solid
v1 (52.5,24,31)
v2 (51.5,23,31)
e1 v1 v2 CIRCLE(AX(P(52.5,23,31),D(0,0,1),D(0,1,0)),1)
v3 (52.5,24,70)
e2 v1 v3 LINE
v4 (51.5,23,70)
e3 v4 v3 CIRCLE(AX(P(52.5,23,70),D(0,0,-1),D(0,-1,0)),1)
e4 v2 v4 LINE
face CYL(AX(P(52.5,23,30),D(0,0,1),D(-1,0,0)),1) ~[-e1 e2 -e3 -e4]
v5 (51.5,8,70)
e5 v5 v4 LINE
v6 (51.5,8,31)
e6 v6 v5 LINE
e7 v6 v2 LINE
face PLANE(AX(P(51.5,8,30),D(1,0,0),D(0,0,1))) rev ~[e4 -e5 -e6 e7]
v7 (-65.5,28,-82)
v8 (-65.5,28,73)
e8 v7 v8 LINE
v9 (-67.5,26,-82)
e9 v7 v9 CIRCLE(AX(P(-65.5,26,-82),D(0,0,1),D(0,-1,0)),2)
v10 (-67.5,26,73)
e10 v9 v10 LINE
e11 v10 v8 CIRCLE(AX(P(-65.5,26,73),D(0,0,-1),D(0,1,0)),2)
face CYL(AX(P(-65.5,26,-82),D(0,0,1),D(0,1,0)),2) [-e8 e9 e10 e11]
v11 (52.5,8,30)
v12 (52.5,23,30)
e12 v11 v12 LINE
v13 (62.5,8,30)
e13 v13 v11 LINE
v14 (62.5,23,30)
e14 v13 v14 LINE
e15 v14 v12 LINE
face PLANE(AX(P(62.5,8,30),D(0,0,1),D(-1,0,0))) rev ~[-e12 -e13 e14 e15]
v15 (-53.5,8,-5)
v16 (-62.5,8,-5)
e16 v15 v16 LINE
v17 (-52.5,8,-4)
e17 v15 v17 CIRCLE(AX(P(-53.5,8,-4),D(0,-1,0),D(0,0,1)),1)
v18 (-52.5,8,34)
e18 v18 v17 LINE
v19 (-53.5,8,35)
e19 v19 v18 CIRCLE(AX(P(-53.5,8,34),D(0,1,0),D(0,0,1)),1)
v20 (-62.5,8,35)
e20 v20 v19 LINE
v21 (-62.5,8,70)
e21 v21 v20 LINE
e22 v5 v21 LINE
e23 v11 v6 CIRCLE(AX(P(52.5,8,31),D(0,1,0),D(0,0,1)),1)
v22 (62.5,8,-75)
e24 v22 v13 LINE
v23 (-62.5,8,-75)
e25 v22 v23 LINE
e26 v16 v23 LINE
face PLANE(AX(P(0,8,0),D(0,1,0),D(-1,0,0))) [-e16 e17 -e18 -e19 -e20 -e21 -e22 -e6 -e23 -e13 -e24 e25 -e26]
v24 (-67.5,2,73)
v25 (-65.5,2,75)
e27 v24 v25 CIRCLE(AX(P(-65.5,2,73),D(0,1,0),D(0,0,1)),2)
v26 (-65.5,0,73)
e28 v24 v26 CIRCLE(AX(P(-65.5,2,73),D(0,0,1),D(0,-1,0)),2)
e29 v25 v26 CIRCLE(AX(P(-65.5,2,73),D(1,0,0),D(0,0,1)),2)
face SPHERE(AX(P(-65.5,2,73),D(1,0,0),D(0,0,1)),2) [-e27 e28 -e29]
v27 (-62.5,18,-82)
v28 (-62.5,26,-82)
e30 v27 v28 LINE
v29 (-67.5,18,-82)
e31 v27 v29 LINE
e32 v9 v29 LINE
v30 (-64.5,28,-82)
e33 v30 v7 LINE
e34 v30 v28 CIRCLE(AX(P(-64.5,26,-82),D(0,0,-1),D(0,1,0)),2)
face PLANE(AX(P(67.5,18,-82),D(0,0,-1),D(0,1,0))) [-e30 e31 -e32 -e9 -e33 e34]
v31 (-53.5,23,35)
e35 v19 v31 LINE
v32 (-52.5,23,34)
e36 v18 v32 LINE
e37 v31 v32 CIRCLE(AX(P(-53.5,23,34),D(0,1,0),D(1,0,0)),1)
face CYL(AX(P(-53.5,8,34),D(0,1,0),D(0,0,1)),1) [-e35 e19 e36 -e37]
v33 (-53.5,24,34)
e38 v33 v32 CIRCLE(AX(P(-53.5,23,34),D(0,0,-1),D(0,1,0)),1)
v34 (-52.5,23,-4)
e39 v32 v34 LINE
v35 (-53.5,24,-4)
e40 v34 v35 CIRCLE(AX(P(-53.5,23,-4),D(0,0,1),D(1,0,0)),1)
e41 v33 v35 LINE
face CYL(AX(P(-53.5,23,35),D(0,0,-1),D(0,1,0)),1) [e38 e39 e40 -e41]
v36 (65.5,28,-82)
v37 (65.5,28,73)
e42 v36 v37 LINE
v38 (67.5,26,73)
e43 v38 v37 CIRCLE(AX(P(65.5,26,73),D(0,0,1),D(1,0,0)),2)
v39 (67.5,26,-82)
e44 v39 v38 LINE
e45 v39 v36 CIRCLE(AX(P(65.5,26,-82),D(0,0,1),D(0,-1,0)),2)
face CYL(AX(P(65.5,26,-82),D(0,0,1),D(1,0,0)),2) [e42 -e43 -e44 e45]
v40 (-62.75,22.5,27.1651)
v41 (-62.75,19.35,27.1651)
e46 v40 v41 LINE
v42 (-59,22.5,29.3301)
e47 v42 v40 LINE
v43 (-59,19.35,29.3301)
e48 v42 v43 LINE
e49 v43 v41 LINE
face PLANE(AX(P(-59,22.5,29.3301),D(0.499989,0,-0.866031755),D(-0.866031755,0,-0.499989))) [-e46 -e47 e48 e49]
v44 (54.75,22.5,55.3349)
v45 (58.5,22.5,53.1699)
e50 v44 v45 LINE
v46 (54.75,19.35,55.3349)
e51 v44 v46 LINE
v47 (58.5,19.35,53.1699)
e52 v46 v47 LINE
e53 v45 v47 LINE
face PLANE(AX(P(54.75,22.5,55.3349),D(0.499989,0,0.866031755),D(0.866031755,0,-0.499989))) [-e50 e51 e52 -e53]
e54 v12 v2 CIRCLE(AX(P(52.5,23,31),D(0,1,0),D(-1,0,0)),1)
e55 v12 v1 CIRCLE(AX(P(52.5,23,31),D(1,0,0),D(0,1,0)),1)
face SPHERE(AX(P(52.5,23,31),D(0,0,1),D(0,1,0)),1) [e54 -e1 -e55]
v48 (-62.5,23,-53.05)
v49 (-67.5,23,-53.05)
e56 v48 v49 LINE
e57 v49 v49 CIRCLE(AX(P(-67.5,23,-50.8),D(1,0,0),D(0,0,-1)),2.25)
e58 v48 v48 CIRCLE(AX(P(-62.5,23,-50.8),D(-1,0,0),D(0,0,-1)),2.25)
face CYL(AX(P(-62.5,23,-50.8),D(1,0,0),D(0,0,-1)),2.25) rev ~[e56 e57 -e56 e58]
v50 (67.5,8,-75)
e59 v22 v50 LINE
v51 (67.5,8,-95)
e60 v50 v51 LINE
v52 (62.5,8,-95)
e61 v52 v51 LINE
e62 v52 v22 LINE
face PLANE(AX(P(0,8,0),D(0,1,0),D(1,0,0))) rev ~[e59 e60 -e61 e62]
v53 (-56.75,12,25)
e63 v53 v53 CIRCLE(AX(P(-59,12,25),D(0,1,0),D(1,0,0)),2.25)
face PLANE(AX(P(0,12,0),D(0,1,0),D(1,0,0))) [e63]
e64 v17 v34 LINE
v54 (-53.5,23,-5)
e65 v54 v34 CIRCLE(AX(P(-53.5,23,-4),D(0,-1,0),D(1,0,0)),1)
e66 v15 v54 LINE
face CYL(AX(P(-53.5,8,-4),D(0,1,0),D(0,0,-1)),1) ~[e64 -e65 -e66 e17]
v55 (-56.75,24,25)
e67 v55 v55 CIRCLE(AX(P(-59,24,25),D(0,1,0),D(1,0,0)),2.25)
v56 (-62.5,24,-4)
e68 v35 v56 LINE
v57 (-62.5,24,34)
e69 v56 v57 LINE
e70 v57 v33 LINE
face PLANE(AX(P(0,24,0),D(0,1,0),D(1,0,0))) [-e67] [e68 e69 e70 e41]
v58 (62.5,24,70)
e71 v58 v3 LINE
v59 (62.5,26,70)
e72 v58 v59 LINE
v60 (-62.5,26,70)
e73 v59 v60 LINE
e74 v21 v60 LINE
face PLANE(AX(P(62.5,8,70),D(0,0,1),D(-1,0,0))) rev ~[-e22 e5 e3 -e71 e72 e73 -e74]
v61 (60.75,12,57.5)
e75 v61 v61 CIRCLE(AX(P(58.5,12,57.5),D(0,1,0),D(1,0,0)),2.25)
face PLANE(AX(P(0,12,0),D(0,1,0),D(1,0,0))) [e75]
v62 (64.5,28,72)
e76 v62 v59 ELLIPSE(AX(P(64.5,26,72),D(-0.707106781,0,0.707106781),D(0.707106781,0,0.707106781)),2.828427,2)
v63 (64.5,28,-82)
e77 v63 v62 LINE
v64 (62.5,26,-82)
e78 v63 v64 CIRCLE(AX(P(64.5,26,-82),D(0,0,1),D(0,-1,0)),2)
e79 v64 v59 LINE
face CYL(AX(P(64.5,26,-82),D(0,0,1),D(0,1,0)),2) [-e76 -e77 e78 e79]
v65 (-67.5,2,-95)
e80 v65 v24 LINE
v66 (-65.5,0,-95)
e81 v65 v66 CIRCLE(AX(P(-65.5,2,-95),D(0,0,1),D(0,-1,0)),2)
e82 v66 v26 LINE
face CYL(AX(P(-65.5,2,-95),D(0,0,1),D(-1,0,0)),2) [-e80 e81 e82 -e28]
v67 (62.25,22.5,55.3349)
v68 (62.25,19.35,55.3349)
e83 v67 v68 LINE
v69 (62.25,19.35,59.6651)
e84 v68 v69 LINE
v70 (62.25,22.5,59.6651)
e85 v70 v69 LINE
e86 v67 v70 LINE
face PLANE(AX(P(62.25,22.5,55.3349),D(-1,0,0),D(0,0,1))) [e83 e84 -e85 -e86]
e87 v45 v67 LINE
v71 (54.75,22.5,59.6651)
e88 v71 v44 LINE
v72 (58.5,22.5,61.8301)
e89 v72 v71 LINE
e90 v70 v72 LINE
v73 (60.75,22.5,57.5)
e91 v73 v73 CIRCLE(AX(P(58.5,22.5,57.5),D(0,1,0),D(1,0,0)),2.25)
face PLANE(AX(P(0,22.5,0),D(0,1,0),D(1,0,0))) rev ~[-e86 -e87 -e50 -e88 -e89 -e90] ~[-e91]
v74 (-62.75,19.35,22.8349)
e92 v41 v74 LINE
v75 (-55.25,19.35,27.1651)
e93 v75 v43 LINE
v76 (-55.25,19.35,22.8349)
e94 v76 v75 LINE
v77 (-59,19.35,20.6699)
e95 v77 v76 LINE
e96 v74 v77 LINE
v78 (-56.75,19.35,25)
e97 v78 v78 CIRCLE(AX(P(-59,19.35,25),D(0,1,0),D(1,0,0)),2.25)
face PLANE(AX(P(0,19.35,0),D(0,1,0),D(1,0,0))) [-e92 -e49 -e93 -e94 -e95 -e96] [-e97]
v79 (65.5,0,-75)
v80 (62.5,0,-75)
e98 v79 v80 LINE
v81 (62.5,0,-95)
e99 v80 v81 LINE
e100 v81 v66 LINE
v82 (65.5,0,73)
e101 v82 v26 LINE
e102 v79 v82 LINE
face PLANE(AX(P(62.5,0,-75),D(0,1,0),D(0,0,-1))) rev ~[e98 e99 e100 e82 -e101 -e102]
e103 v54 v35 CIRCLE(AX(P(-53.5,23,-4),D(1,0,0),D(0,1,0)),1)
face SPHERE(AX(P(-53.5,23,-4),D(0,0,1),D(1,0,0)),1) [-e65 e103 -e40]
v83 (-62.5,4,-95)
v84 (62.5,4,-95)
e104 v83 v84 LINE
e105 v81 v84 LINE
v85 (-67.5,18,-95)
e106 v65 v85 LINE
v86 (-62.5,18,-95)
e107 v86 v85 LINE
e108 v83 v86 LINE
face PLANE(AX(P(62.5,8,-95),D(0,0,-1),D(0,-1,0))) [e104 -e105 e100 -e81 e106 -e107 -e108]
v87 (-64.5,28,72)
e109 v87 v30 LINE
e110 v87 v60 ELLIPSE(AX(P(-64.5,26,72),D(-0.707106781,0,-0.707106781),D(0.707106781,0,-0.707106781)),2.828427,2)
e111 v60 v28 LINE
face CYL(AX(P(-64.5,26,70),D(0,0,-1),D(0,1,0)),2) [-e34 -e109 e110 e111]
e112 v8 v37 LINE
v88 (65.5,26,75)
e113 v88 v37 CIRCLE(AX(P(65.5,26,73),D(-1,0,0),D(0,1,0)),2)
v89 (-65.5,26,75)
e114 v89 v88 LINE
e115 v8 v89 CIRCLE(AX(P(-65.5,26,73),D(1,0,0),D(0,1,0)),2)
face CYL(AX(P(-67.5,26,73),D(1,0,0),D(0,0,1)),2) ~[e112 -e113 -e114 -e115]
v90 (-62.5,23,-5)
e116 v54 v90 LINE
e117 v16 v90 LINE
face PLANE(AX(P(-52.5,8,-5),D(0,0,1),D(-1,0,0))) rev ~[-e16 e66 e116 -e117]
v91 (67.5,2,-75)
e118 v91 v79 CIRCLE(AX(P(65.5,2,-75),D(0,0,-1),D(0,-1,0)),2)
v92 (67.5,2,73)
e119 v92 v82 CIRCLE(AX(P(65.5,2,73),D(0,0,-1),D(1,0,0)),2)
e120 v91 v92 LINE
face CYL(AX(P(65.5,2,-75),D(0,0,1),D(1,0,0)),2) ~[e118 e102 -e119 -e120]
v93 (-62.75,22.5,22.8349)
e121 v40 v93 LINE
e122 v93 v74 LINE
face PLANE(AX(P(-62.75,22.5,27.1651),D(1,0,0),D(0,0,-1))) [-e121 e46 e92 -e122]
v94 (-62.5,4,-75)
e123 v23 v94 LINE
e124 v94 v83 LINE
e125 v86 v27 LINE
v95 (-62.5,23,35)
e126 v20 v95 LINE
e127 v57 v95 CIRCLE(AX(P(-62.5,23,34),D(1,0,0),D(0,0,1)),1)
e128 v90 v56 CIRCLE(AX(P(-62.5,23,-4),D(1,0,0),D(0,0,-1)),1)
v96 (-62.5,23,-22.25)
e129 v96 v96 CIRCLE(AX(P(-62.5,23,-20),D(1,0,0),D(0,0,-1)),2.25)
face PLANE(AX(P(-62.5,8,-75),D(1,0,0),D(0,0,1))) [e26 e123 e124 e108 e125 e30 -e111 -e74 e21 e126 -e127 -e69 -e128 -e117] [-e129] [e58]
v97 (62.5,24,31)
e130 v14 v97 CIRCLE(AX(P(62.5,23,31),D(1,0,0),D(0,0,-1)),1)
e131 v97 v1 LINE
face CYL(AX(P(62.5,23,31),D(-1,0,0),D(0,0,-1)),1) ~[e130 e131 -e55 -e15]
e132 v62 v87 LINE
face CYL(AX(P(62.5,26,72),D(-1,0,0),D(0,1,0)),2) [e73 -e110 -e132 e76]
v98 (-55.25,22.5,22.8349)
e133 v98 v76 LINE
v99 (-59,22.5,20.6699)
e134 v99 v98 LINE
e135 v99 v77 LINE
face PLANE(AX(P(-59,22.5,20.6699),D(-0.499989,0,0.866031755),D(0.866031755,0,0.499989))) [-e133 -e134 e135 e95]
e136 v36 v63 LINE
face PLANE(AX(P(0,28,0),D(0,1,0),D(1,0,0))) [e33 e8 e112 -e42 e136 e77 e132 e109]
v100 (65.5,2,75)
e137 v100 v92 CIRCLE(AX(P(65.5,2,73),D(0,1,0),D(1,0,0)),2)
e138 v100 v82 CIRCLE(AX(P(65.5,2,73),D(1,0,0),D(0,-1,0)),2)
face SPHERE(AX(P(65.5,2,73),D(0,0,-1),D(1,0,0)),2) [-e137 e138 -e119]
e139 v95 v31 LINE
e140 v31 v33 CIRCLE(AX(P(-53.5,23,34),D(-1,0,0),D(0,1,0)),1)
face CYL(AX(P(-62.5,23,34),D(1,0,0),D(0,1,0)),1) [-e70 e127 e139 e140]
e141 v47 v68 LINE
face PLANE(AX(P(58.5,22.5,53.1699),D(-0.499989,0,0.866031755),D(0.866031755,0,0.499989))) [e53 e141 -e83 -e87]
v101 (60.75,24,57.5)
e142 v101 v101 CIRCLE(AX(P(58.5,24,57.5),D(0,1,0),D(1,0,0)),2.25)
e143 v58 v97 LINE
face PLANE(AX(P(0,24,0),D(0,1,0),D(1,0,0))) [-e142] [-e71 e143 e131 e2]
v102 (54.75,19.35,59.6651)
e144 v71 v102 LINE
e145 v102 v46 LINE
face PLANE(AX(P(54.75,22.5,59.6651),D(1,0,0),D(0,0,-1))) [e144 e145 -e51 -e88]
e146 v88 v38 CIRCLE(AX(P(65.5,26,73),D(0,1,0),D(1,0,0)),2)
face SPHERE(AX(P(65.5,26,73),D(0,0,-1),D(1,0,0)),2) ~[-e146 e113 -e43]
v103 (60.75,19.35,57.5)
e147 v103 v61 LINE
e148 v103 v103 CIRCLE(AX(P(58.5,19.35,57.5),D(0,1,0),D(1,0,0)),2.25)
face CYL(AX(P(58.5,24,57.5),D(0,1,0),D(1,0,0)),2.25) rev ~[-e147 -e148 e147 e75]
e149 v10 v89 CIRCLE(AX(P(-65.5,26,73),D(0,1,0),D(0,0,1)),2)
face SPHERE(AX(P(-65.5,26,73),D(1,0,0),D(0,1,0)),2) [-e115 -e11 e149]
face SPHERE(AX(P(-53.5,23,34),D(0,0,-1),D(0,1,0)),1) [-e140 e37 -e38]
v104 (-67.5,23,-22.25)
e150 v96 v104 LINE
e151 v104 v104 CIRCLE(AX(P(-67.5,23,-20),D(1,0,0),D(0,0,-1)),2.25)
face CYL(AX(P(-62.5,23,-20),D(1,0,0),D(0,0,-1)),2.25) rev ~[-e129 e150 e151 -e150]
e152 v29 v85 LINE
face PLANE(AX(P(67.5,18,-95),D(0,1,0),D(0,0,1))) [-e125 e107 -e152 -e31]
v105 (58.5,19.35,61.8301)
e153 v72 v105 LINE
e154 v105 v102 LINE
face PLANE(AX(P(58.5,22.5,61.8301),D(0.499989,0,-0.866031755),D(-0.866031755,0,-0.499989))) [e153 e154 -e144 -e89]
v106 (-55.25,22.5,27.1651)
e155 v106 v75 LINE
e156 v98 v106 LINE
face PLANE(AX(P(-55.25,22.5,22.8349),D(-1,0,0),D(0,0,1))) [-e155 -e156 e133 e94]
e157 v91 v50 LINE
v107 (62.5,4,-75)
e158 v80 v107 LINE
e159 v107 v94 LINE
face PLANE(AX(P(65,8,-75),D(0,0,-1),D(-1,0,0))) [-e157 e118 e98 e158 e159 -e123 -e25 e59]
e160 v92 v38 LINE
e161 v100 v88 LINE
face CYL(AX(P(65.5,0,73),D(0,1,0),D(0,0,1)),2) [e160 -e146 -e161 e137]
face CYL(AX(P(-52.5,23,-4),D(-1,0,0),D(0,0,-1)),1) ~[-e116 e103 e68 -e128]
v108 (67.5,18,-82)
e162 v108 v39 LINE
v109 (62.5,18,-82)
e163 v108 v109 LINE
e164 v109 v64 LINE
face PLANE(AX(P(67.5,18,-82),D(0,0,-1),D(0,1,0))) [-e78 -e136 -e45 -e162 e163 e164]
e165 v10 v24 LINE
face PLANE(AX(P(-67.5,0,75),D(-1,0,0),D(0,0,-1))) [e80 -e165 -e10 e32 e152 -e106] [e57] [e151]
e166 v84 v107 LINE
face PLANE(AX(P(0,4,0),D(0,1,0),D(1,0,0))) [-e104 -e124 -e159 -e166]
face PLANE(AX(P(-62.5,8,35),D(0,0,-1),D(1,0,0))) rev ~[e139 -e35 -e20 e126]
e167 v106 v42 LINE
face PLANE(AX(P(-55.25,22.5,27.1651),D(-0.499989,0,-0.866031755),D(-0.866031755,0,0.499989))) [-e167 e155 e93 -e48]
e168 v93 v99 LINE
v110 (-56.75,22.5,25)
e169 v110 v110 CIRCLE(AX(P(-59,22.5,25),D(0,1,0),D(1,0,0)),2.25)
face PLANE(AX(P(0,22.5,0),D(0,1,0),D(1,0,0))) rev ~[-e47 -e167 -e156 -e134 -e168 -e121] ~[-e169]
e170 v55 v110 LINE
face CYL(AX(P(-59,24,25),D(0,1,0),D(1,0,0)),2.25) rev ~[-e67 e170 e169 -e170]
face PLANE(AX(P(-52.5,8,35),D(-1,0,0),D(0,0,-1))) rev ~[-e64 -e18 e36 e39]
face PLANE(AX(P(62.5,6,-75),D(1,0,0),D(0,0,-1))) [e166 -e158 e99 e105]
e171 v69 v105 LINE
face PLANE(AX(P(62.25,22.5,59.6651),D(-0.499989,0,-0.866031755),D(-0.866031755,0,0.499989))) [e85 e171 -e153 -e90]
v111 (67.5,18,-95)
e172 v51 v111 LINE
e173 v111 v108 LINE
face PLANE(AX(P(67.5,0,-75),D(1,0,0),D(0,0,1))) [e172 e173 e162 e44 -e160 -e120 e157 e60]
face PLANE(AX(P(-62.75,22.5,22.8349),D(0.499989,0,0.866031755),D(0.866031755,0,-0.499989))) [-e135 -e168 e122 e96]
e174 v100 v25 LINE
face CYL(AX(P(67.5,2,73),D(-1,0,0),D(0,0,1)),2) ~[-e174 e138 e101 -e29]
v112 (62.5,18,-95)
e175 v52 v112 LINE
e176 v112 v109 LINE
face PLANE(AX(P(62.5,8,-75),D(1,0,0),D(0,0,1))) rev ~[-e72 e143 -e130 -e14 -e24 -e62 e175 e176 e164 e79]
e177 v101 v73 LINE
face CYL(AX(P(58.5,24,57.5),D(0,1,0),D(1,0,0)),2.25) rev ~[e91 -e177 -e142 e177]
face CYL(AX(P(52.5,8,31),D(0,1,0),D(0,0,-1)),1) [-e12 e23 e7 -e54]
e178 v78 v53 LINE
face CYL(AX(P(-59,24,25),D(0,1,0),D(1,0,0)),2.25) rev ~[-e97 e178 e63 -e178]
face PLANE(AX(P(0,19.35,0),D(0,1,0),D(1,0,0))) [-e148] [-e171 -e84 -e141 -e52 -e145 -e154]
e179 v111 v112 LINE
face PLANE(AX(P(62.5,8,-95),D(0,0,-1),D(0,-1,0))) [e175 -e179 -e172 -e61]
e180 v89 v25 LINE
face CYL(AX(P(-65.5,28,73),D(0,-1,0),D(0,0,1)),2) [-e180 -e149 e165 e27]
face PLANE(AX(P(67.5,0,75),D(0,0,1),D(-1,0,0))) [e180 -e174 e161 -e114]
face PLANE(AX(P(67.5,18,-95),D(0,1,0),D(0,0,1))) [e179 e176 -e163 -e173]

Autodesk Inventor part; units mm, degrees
ref_plane "YZ Plane" through (0, 0, 0) normal (1, 0, 0) x (0, 1, 0)
ref_plane "XZ Plane" through (0, 0, 0) normal (0, 1, 0) x (-1, 0, 0)
sketch "Sketch1" plane through (0, 0, 0) normal (0, 1, 0) x (-1, 0, 0)
  line L0 (-67.5, 75) -> (67.5, 75)
  line L1 (67.5, 75) -> (67.5, -75)
  line L2 (67.5, -75) -> (-67.5, -75)
  line L3 (-67.5, -75) -> (-67.5, 75)
  line L4 (-67.5, 75) -> (67.5, -75) construction
  line L5 (67.5, 75) -> (-67.5, -75) construction
  point P0 (0, 0)
  dimension "d0" = 135
  dimension "d1" = 150
extrude "Extrusion1" add sketch "Sketch1" along normal blind 8
sketch "Sketch3" plane through (0, 8, 0) normal (0, 1, 0) x (1, 0, 0)
  line L0 (-67.5, -75) -> (67.5, -75) projected
  line L1 (67.5, -75) -> (67.5, 75) projected
  line L2 (67.5, 75) -> (-67.5, 75) projected
  line L3 (-67.5, 75) -> (-67.5, -75) projected
  line L4 (62.5, 75) -> (62.5, -70)
  line L5 (-67.5, -75) -> (67.5, -75) projected
  line L6 (67.5, -75) -> (67.5, 75) projected
  line L7 (0, 0) -> (0, -83) construction
  line L8 (-62.5, 75) -> (-62.5, -70)
  line L9 (62.5, -70) -> (-62.5, -70)
  dimension "d4" = 5
  dimension "d5" = 5
extrude "Extrusion2" add sketch "Sketch3" along normal blind 20 contours L3 L2 L8 L9 L4 L1 L0
sketch "Sketch4" plane through (67.5, 0, -75) normal (0, 0, -1) x (-1, 0, 0)
  line L0 (135, 0) -> (0, 0) projected
  line L1 (135, 0) -> (135, 28) projected
  line L2 (130, 28) -> (135, 28) projected
  line L3 (130, 8) -> (130, 28) projected
  line L4 (5, 8) -> (130, 8) projected
  line L5 (5, 8) -> (5, 28) projected
  line L6 (0, 28) -> (5, 28) projected
  line L7 (0, 0) -> (0, 28) projected
  line L8 (130, 8) -> (5, 8) projected
  line L9 (5, 8) -> (5, 0)
  line L10 (130, 8) -> (130, 0)
  line L11 (0, 0) -> (135, 0) projected
  line L12 (0, 0) -> (0, 28) projected
  line L13 (5, 0) -> (130, 0)
  line L14 (5, 8) -> (130, 8) projected
  line L15 (5, 4) -> (130, 4)
  line L16 (5, 8) -> (0, 8)
  line L17 (135, 0) -> (0, 0) projected
  point P0 (67.5, 0)
  dimension "d8" = 0
  dimension "d9" = 4
extrude "Extrusion3" add sketch "Sketch4" along normal blind 20 contours L0 L10 L3 L2 L1 | L0 L9 L15 L10 | L15 L9 L4 L10 | L7 L6 L5 L16
sketch "Sketch6" plane through (67.5, 0, 75) normal (1, 0, 0) x (0, 0, -1)
  line L0 (150, 0) -> (150, 8)
  line L1 (0, 0) -> (0, 28) projected
  line L2 (170, 18) -> (157, 18)
  line L3 (157, 18) -> (157, 28)
  line L4 (157, 28) -> (170, 28)
  line L5 (170, 28) -> (170, 18)
  line L6 (170, 28) -> (170, 8) projected
  line L7 (150, 8) -> (170, 8) projected
  line L8 (0, 28) -> (170, 28) projected
  point P0 (75, 0)
  dimension "d83" = 10
  dimension "d85" = 10
  dimension "d86" = 0
  dimension "d87" = 13
  dimension "d88" = 0
  dimension "d89" = 0
extrude "Extrusion4" cut sketch "Sketch6" against normal through all
fillet "Fillet1" radius 2 11 edges at (67.5, 0, 0) (67.5, 28, -3.5) (67.5, 14, 75) (0, 28, 75) (0, 0, 75) (-67.5, 28, -3.5) (-67.5, 14, 75) (-67.5, 0, -10) (62.5, 28, -6) (-62.5, 28, -6) (0, 28, 70)
sketch "Sketch11" plane through (-67.5, 9.7, -88) normal (-1, 0, 0) x (0, 0, 1)
  line L0 (9, 17.5) -> (0, 19.5) projected
  line L1 (0, 19.5) -> (0, 11.5) projected
  line L2 (0, 11.5) -> (9, 14) projected
  line L3 (9, 17.5) -> (9, 14) projected
  line L4 (9, 6) -> (0, 8.5) projected
  line L5 (0, 0) -> (9, 2.5) projected
  line L6 (0, 6) -> (0, 0) projected
  line L7 (9, 6) -> (9, 2.5) projected
  point P0 (88, -9.7)
sketch "Sketch12" plane through (-67.5, 2, 73) normal (-1, 0, 0) x (0, 0, 1)
  line L0 (-168, 28) -> (-168, 20)
  line L1 (-159, 26) -> (-168, 28)
  line L2 (-159, 26) -> (-159, 22.5)
  line L3 (-168, 20) -> (-159, 22.5)
  line L4 (-168, 17) -> (-168, 8.5)
  line L5 (-159, 14.5) -> (-168, 17)
  line L6 (-159, 14.5) -> (-159, 11)
  line L7 (-168, 8.5) -> (-159, 11)
  line L8 (-168, 0) -> (-168, 16) projected
  line L9 (-161, 19.2) -> (-161, 27.2) projected
  line L10 (-161, 27.2) -> (-168, 27.2)
  line L11 (-168, 16) -> (-168, 6) projected
  line L12 (-159, 17) -> (-168, 17)
  point P0 (-73, -2)
  point P1 (-168, 24)
sketch "Sketch15" plane through (62.5, 6, -75) normal (1, 0, 0) x (0, 0, -1)
  line L0 (0, -6) -> (0, 2) projected
  line L1 (20, 2) -> (20, -6) projected
  line L2 (0, 2) -> (20, 2) projected
  line L3 (0, -6) -> (20, -6) projected
  point P0 (-75, -6)
extrude "Extrusion8" add sketch "Sketch15" along normal blind 2.5
sketch "Sketch16" plane through (0, 8, 0) normal (0, 1, 0) x (1, 0, 0)
  line L0 (-62.5, -35) -> (-52.5, -35)
  line L1 (-52.5, -35) -> (-52.5, 5)
  line L2 (-52.5, 5) -> (-62.5, 5)
  line L3 (-62.5, 5) -> (-62.5, -35)
  line L4 (62.5, -70) -> (-62.5, -70) projected
  line L5 (-62.5, -70) -> (-62.5, 82) projected
  line L6 (51.5, -70) -> (62.5, -70)
  line L7 (62.5, -70) -> (62.5, -30)
  line L8 (62.5, -30) -> (51.5, -30)
  line L9 (51.5, -30) -> (51.5, -70)
  line L10 (62.5, 82) -> (62.5, -70) projected
  point P0 (0, 0)
  point P1 (-62.5, 95)
  point P2 (62.5, 95)
  dimension "d39" = 35
  dimension "d40" = 0
  dimension "d41" = 10
  dimension "d42" = 40
  dimension "d43" = 0
  dimension "d44" = 0
  dimension "d45" = 40
  dimension "d46" = 11
extrude "Extrusion9" add sketch "Sketch16" along normal blind 16
fillet "Fillet4" radius 1 8 edges at (51.5, 24, 50) (57, 24, 30) (51.5, 16, 30) (-52.5, 24, 15) (-52.5, 16, -5) (-57.5, 24, 35) (-57.5, 24, -5) (-52.5, 16, 35)
sketch "Sketch17" plane through (0, 24, 0) normal (0, 1, 0) x (1, 0, 0)
  circle A0 centre (-59, -25) radius 2.25
  line L0 (-62.5, -34) -> (-62.5, 4) projected
  line L1 (-53.5, -34) -> (-62.5, -34) projected
  circle A1 centre (58.5, -57.5) radius 2.25
  line L2 (52.5, -70) -> (52.5, -31) projected
  line L3 (52.5, -31) -> (62.5, -31) projected
  line L4 (62.5, -70) -> (50.5, -70) projected
  point P0 (0, 0)
  dimension "d50" = 4.5
  dimension "d51" = 3.5
  dimension "d52" = 9
  dimension "d53" = 4.5
  dimension "d54" = 6
  dimension "d90" = 12.5
extrude "Extrusion10" cut sketch "Sketch17" against normal blind 12
sketch "Sketch18" plane through (-62.5, 9.7, -88) normal (1, 0, 0) x (0, 0, -1)
  circle A0 centre (-68, 13.3) radius 2.25
  circle A1 centre (-37.2, 13.3) radius 2.25
  line L0 (0, 8.1) -> (0, 14.1)
  line L1 (-37.2, 13.3) -> (-68, 13.3)
  line L2 (-6, 18.3) -> (-160, 18.3) projected
  line L3 (-158, -1.7) -> (-158, 16.3) projected
  point P0 (-88, -9.7)
  point P1 (7, 18.3)
  dimension "d60" = 4.5
  dimension "d61" = 4.5
  dimension "d62" = 30.8
  dimension "d64" = 5
  dimension "d67" = 90
extrude "Extrusion11" cut sketch "Sketch18" against normal through all
ref_plane "Work Plane3" through (0, 22.5, 0) normal (0, 1, 0) x (1, 0, 0)
sketch "Sketch21" plane through (0, 22.5, 0) normal (0, 1, 0) x (1, 0, 0)
  circle A0 centre (58.5, -57.5) radius 2.25 projected
  line L0 (54.75, -55.3349) -> (58.5, -53.1699)
  line L1 (58.5, -53.1699) -> (62.25, -55.3349)
  line L2 (62.25, -55.3349) -> (62.25, -59.6651)
  line L3 (62.25, -59.6651) -> (58.5, -61.8301)
  line L4 (58.5, -61.8301) -> (54.75, -59.6651)
  line L5 (54.75, -59.6651) -> (54.75, -55.3349)
  line L6 (-62.5, -35) -> (-62.5, -70) projected
  line L7 (51.5, -70) -> (51.5, -31) projected
  circle A1 centre (-59, -25) radius 2.25 projected
  line L8 (-55.25, -27.1651) -> (-59, -29.3301)
  line L9 (-59, -29.3301) -> (-62.75, -27.1651)
  line L10 (-62.75, -27.1651) -> (-62.75, -22.8349)
  line L11 (-62.75, -22.8349) -> (-59, -20.6699)
  line L12 (-59, -20.6699) -> (-55.25, -22.8349)
  line L13 (-55.25, -22.8349) -> (-55.25, -27.1651)
  point P0 (0, 0)
  dimension "d78" = 7.5
  dimension "d79" = 7.5
extrude "Extrusion13" cut sketch "Sketch21" against normal blind 3.15
sketch "Sketch22" plane through (0, 8, 0) normal (0, 1, 0) x (1, 0, 0)
  line L0 (65, 75) -> (65, 95) projected
  line L1 (-62.5, 95) -> (62.5, 95) projected
  line L2 (65, 75) -> (67.5, 75) projected
  line L3 (-62.5, 95) -> (65, 95)
  line L4 (65, 95) -> (65, 75)
  line L5 (65, 75) -> (-62.5, 75)
  line L6 (-62.5, 75) -> (-62.5, 95)
  point P0 (0, 0)
extrude "Extrusion14" cut sketch "Sketch22" against normal blind 4
sketch "Sketch23" plane through (65, 6, -75) normal (1, 0, 0) x (0, 0, -1)
  line L0 (20, -2) -> (0, -2) projected
  line L1 (0, -6) -> (0, -2) projected
  line L2 (0, -6) -> (20, -6) projected
  line L3 (20, -6) -> (20, -2) projected
  point P0 (-75, -6)
extrude "Extrusion15" cut sketch "Sketch23" against normal up to surface (2.5 mm away)
properties part number "Case_metà1"
